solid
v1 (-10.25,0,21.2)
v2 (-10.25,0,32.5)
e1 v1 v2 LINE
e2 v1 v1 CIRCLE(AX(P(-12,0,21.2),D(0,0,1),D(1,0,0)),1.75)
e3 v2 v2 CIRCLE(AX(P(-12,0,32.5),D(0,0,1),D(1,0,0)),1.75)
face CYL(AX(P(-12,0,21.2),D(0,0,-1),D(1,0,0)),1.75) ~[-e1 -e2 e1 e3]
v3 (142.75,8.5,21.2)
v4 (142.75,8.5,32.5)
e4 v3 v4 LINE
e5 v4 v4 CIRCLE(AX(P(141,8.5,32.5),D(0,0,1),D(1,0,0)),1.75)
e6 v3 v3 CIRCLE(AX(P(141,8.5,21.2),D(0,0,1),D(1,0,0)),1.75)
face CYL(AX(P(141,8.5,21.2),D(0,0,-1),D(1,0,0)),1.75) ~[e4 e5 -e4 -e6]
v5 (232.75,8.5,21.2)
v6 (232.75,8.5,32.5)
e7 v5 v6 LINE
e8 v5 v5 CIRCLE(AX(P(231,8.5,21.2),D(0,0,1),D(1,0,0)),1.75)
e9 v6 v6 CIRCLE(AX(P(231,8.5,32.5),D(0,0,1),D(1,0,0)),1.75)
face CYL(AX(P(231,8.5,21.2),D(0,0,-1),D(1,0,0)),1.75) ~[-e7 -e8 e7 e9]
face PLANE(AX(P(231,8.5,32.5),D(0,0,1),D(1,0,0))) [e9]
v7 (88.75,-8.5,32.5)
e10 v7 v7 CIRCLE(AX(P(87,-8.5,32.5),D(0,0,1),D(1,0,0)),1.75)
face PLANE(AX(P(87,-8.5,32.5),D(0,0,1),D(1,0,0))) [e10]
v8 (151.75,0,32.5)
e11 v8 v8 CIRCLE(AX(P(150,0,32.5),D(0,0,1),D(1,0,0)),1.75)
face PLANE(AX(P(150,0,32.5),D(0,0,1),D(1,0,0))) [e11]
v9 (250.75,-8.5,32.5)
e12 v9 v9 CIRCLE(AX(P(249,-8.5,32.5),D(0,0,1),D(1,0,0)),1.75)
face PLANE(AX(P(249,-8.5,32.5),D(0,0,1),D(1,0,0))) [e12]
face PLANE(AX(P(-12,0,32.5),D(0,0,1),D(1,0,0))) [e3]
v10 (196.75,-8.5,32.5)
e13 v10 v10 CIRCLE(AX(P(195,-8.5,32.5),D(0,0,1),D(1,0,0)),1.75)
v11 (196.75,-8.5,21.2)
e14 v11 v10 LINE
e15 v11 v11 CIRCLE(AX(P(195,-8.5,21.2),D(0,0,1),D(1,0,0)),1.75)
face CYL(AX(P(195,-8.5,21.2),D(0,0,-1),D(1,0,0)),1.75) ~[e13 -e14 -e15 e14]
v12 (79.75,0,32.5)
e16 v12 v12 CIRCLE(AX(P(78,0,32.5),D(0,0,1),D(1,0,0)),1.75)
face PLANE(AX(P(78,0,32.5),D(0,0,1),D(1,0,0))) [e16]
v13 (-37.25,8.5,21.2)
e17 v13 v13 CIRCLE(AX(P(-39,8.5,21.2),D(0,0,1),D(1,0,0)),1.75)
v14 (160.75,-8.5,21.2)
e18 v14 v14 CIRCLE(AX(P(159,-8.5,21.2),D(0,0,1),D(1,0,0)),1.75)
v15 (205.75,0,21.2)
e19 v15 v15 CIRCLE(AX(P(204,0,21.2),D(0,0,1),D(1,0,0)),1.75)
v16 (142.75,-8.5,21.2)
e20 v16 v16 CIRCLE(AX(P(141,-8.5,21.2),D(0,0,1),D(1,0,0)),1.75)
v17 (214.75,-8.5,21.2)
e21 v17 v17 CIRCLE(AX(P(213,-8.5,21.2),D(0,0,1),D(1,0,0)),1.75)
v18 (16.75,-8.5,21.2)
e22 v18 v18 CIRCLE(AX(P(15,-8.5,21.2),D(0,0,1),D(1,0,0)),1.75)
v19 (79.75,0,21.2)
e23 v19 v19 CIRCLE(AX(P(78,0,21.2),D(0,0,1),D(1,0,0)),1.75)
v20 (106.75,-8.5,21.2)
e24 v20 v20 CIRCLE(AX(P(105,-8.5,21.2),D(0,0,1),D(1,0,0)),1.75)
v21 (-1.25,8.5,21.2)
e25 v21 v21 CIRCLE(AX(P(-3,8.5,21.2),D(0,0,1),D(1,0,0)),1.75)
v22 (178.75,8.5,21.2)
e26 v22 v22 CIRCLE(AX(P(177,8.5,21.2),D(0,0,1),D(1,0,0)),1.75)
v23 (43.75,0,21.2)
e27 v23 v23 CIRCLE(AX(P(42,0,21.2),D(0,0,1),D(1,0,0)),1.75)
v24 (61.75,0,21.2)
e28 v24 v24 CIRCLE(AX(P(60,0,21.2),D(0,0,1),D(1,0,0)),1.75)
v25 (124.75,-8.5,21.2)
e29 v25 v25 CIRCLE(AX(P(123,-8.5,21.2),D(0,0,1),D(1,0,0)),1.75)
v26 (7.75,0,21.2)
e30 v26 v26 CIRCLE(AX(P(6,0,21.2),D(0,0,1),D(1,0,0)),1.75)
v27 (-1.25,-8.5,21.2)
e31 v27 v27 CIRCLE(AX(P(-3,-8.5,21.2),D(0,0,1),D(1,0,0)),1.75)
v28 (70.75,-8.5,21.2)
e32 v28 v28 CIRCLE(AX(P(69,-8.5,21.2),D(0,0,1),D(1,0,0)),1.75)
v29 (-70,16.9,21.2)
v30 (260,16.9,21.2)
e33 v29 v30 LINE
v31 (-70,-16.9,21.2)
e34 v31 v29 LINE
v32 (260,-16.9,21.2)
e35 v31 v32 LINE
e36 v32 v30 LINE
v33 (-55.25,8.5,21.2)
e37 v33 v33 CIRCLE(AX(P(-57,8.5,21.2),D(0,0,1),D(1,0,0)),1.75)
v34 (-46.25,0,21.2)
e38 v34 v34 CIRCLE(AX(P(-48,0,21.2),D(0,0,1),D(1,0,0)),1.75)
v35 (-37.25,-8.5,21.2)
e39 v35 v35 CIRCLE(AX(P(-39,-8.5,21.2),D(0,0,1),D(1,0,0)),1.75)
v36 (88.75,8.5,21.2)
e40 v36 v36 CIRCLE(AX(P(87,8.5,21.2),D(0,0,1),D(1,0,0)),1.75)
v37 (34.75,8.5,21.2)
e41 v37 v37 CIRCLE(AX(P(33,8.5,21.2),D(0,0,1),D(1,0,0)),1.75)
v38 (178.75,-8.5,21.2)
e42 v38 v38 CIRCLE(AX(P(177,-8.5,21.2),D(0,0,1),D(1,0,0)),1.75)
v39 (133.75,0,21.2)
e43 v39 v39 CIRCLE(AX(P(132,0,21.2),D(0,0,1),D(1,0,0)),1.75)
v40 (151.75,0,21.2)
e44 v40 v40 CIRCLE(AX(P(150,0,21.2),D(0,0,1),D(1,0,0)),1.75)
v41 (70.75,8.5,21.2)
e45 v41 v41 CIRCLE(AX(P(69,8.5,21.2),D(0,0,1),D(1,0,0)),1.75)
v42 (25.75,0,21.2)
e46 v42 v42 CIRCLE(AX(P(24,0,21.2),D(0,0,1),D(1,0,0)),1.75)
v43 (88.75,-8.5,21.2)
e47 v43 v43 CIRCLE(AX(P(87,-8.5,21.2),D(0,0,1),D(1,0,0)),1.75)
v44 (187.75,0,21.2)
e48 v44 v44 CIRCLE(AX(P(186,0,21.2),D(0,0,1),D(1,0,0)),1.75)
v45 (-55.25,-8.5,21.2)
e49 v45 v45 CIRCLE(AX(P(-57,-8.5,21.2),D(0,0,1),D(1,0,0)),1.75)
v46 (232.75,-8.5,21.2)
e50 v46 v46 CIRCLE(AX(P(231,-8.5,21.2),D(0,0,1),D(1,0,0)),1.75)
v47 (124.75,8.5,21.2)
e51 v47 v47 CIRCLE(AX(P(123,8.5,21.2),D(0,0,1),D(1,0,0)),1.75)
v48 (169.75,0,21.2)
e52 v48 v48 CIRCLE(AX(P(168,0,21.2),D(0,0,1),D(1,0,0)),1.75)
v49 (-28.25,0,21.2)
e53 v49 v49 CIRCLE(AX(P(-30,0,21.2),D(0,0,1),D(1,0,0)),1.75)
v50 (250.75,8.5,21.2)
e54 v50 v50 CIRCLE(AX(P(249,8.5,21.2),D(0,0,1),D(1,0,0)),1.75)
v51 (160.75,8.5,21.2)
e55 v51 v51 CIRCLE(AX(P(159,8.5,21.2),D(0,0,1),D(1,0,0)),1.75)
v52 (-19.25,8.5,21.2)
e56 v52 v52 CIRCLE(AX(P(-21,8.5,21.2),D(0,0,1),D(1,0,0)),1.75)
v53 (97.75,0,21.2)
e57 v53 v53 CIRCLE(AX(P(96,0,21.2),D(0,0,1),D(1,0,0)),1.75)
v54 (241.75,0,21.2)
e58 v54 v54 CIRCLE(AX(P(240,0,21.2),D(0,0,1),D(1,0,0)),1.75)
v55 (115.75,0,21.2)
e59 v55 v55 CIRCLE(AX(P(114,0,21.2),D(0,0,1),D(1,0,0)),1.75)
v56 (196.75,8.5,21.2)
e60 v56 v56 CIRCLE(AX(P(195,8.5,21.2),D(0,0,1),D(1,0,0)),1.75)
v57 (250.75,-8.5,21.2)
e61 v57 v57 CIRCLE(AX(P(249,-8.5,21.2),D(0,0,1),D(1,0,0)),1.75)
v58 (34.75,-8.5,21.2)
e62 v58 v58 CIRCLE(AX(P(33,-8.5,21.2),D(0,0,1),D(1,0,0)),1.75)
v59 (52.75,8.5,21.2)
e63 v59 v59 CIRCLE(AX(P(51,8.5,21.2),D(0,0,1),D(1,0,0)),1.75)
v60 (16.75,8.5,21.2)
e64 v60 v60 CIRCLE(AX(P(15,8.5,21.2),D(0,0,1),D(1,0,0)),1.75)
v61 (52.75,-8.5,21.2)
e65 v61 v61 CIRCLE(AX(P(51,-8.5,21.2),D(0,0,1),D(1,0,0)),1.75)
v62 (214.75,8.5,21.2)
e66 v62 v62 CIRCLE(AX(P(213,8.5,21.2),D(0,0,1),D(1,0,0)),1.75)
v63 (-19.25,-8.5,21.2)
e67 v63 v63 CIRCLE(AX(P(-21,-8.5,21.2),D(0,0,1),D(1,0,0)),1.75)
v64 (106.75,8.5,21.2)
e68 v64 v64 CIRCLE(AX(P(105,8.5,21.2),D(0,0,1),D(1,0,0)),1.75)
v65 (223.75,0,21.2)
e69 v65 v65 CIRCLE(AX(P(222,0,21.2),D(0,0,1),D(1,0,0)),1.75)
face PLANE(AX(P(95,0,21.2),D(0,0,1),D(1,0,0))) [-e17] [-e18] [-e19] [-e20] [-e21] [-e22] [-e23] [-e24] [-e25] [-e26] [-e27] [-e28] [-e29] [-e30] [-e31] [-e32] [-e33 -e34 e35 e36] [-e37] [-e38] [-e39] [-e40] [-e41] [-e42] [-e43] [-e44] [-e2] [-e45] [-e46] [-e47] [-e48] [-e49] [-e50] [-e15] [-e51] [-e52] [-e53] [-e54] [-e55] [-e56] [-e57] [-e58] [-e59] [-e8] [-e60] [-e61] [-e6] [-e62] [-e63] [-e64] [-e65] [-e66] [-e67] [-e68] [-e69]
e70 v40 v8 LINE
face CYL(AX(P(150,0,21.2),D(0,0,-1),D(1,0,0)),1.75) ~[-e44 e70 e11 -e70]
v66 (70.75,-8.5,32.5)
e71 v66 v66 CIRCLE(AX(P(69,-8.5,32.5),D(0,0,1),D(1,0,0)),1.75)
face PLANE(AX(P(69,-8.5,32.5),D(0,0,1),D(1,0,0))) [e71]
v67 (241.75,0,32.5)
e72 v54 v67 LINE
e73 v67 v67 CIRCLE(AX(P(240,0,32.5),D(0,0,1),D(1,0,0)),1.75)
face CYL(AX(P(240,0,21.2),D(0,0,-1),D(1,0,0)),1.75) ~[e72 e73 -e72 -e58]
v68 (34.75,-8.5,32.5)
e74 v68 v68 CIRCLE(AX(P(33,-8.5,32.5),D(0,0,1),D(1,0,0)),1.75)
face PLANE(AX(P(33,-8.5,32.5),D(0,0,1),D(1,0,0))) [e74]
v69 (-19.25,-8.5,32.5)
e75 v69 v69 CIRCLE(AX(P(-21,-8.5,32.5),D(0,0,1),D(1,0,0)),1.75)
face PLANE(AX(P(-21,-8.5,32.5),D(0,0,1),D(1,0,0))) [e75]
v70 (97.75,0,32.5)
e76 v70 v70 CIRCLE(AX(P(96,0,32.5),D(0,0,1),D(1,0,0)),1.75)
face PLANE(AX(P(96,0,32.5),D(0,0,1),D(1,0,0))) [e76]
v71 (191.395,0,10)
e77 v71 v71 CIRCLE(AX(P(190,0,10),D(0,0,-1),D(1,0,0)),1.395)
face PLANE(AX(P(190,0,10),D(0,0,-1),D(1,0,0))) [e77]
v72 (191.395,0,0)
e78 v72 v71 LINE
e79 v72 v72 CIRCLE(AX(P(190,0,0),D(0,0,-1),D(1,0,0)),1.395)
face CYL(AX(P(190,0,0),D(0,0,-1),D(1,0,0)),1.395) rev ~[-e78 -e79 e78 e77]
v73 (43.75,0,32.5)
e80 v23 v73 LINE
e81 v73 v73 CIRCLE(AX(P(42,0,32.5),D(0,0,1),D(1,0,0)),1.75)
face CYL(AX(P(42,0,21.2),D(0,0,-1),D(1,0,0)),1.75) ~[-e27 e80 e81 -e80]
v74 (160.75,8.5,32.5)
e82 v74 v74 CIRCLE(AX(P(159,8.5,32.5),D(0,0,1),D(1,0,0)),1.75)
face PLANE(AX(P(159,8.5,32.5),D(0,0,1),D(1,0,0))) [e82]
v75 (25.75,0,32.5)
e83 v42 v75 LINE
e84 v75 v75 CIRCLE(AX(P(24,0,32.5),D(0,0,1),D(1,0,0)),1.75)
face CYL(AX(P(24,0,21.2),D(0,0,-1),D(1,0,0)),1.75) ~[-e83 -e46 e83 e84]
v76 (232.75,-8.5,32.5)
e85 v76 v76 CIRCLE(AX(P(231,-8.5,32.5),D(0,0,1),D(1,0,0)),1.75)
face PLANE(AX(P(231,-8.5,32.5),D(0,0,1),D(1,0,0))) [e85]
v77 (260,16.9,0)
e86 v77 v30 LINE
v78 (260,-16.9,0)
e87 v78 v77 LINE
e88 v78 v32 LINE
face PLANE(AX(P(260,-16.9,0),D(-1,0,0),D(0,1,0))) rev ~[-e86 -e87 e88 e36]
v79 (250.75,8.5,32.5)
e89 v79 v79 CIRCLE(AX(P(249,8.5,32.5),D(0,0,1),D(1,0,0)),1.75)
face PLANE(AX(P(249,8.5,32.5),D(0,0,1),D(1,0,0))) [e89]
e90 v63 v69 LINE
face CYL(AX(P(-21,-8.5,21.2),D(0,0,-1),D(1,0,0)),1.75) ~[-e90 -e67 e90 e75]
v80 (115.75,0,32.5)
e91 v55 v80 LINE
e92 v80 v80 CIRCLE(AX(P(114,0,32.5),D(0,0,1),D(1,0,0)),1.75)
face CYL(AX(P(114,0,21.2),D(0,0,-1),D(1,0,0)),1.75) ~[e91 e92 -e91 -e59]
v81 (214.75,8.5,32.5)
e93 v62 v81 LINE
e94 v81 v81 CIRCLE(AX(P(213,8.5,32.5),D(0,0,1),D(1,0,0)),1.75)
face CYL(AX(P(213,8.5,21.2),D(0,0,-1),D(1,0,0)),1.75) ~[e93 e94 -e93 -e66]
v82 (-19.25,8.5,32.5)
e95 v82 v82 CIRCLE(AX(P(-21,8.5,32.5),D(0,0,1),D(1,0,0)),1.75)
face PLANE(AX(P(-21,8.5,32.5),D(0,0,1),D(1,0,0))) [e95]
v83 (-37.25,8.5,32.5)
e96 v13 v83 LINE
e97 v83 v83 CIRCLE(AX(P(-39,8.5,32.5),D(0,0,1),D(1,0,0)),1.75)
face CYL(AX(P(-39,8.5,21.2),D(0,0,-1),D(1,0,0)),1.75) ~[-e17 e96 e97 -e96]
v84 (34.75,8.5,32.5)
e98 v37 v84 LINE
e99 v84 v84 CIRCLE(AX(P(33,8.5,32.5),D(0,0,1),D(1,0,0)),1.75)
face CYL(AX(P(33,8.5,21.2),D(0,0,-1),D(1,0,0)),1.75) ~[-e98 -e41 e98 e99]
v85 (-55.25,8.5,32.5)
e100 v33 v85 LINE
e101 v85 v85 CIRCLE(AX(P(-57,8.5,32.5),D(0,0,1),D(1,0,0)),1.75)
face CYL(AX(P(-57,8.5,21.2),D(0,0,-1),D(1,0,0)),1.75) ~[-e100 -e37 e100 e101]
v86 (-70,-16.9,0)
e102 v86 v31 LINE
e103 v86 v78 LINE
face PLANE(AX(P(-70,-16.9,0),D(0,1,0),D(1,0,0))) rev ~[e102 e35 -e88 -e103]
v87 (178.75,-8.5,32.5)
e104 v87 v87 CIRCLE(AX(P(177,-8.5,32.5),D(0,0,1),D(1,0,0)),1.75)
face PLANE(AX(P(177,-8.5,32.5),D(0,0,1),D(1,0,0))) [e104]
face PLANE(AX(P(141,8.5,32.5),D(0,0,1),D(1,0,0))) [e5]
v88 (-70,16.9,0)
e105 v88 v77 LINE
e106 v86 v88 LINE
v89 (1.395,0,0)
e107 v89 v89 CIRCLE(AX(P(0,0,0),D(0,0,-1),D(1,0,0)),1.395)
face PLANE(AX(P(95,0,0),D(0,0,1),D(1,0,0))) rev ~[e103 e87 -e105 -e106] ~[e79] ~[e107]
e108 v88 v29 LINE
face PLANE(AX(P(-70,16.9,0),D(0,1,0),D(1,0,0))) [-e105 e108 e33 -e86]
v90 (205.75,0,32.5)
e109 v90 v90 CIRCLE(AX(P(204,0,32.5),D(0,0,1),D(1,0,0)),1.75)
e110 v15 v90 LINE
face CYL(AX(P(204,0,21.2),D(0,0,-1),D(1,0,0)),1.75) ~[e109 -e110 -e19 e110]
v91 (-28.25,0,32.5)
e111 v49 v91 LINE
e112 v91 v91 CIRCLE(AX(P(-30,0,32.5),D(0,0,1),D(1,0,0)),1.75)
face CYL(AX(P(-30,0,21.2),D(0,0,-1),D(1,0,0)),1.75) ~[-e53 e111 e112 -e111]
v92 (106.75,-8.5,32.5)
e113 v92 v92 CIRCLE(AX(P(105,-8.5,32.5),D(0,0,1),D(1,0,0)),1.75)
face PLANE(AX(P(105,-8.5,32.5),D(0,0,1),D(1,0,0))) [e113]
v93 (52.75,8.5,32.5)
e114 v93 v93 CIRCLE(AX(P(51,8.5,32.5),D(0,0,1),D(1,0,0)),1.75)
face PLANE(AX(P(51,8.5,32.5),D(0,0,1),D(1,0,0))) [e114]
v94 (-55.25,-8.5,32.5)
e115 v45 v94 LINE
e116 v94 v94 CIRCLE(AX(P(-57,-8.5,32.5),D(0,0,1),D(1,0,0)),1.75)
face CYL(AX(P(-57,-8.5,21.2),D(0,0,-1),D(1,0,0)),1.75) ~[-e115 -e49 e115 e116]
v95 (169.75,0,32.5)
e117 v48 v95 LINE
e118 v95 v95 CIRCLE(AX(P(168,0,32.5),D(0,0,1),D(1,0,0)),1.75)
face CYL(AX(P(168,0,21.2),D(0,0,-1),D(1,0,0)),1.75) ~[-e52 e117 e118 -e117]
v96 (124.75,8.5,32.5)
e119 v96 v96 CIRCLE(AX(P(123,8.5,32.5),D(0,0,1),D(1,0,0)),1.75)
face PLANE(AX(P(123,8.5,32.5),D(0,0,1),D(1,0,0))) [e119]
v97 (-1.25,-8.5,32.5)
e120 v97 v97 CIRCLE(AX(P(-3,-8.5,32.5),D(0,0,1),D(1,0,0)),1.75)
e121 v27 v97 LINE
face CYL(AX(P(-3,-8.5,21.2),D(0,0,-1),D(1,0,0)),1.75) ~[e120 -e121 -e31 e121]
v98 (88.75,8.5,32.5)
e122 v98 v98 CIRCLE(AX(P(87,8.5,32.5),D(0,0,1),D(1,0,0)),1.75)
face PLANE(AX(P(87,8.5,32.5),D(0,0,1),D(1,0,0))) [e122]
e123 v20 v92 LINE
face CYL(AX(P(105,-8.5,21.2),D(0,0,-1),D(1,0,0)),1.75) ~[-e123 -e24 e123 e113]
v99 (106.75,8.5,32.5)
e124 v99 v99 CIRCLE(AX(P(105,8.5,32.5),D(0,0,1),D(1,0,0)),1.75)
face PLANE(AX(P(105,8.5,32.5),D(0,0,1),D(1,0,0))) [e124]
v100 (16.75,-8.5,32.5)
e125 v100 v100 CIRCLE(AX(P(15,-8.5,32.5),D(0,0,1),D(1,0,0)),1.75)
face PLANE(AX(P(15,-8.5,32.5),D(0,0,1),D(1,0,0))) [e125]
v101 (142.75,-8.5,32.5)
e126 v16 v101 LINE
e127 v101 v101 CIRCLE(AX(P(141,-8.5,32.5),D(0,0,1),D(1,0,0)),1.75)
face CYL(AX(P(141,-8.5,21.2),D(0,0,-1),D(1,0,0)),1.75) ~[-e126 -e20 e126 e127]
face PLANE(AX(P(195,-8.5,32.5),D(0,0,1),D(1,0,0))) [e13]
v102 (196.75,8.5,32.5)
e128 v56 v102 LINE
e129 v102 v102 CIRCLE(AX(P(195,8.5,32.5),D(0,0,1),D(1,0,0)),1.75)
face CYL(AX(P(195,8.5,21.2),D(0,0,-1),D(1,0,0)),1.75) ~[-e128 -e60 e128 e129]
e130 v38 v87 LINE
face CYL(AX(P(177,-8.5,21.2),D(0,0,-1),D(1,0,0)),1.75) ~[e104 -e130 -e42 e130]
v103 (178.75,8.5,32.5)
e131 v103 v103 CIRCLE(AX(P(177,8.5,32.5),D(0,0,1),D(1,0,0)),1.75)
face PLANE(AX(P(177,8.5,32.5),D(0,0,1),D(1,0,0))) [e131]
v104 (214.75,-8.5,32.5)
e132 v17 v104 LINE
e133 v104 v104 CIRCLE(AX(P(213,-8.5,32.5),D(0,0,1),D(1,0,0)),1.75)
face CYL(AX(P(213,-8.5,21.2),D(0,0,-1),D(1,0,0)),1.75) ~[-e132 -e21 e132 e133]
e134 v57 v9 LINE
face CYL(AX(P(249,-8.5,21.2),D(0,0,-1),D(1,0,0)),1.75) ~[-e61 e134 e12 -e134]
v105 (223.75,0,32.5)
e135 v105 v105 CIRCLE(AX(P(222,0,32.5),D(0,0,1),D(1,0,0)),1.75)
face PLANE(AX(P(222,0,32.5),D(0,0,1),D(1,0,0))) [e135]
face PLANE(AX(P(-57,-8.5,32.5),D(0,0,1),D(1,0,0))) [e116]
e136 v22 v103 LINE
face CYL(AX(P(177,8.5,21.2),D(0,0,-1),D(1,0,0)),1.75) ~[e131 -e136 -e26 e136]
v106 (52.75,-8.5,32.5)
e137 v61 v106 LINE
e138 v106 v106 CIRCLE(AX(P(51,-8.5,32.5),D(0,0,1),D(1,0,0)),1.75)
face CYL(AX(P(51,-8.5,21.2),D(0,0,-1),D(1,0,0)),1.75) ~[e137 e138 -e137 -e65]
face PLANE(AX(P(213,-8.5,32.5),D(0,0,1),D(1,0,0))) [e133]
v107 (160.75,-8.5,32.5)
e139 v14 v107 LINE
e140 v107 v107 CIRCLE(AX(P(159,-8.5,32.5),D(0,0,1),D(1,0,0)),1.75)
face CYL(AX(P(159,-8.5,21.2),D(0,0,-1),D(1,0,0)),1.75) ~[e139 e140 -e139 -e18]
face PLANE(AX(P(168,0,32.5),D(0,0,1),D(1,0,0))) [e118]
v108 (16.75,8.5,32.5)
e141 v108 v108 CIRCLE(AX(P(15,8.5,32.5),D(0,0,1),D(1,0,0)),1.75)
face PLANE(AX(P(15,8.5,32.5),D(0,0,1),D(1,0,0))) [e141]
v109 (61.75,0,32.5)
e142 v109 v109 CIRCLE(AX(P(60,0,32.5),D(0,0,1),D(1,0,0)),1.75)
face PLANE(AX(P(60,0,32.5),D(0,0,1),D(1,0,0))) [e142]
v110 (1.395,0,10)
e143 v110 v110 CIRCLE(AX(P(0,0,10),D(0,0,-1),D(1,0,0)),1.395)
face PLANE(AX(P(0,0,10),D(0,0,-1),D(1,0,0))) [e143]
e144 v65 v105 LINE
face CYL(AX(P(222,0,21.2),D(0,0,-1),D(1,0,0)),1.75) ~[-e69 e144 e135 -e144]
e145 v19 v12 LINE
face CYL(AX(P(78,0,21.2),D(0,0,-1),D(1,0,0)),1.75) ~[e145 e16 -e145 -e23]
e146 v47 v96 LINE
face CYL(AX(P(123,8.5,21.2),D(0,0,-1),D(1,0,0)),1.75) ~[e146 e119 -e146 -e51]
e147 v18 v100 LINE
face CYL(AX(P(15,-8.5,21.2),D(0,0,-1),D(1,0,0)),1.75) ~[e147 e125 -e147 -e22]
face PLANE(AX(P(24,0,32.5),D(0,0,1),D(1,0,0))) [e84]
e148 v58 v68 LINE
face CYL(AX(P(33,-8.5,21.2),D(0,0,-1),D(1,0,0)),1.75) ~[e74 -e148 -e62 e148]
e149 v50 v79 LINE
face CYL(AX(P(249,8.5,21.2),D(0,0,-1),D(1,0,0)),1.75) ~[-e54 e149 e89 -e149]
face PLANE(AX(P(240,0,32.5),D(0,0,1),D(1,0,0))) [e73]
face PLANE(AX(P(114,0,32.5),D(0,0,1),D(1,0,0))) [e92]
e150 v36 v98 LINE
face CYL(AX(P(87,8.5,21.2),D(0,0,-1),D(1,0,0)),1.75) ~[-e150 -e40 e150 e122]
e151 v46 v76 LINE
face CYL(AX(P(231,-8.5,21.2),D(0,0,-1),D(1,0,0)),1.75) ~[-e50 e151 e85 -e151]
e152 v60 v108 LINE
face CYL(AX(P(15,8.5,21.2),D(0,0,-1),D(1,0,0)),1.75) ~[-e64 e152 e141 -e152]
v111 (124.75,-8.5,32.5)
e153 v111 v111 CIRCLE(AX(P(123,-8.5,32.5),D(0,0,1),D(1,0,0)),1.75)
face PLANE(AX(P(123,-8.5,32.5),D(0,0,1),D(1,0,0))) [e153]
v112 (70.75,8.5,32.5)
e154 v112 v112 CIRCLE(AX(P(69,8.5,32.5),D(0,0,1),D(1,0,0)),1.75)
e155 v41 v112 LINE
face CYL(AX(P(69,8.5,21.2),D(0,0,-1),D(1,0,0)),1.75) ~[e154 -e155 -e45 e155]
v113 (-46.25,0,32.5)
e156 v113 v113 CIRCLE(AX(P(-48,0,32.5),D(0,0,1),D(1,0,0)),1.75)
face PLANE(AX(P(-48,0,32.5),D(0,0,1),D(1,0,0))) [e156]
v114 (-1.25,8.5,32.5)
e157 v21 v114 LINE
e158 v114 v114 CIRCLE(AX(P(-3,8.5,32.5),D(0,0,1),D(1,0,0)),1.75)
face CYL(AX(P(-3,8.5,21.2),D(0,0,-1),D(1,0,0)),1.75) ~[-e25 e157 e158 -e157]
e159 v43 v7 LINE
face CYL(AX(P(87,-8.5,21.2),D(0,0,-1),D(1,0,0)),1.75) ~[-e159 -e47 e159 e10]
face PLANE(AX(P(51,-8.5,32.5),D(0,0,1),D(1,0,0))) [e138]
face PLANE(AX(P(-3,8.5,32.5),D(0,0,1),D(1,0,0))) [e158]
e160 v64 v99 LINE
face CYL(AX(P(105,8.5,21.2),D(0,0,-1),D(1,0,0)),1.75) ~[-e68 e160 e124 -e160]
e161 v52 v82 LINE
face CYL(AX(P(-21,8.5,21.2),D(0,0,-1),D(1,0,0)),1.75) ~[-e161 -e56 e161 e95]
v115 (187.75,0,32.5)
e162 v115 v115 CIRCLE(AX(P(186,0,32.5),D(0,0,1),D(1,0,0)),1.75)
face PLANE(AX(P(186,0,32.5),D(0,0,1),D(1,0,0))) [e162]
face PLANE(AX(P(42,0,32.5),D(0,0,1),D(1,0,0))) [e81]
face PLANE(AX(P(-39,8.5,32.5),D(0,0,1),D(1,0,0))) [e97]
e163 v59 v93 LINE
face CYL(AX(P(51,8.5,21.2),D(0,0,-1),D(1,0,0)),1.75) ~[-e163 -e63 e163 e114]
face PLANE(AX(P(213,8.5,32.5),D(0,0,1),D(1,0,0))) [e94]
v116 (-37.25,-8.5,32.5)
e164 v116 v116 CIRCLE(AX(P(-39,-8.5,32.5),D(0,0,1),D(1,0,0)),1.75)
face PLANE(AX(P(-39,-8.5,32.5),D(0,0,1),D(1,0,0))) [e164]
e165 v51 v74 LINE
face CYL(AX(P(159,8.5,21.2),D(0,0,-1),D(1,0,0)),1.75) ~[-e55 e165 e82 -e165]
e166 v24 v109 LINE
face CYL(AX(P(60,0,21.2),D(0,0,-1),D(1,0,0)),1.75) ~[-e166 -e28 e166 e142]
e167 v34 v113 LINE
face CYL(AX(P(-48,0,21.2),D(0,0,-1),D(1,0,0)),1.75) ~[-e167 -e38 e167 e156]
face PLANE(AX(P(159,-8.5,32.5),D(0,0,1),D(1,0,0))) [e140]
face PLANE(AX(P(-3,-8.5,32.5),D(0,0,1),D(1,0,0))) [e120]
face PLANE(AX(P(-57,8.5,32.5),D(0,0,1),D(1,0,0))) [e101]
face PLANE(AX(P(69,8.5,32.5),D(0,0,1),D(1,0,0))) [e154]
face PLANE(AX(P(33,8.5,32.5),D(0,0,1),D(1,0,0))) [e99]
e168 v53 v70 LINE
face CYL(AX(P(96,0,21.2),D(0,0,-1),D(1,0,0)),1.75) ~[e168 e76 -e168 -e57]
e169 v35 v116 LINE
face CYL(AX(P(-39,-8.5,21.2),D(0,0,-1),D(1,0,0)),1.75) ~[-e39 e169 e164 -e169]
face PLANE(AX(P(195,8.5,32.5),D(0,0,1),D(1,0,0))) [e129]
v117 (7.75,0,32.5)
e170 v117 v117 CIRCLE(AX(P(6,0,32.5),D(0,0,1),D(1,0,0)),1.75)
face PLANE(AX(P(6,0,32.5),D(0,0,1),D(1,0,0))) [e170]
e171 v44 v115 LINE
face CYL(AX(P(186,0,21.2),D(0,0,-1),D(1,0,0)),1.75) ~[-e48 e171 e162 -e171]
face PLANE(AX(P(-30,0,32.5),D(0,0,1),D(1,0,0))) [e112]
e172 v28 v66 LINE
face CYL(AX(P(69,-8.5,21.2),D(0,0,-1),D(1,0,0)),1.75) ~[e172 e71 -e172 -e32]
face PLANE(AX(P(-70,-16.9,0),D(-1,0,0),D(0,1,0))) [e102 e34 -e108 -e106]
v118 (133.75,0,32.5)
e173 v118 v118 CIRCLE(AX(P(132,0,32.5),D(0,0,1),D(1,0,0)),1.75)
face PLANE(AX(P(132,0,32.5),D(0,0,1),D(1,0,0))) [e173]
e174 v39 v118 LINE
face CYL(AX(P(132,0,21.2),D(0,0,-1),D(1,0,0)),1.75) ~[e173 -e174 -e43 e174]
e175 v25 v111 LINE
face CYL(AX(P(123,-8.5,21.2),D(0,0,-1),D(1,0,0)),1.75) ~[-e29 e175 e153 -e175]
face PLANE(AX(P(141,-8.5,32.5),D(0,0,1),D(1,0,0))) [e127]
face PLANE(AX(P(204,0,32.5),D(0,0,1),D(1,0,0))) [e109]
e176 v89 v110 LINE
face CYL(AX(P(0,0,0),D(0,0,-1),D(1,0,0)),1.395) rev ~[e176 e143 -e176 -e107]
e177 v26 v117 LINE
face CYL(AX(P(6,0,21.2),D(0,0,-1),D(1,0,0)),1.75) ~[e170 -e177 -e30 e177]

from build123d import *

# Parameters (mm, degrees)
F0_W     = 330
F0_H     = 33.8
F1_DEPTH = 21.2
F2_R     = 1.395
F3_DEPTH = 10
F4_R     = 1.75
F5_DEPTH = 11.3


with BuildPart() as f1:
    # F0 (on Top) → F1 (new body)
    with BuildSketch(Plane.XY):
        with Locations((95, 0)):
            Rectangle(F0_W, F0_H)
    extrude(amount=F1_DEPTH)

    # F2 (on face) → F3 (cut)
    with BuildSketch(Plane(origin=(0, 0, 0), x_dir=(1, 0, 0), z_dir=(0, 0, -1))):
        Circle(F2_R)
        with Locations((190, 0)):
            Circle(F2_R)
    extrude(amount=-F3_DEPTH, mode=Mode.SUBTRACT)

    # F4 (on face) → F5 (join)
    with BuildSketch(Plane.XY.offset(21.2)):
        with Locations((-57, 8.5)):
            Circle(F4_R)
        with Locations((-57, -8.5)):
            Circle(F4_R)
        with Locations((-48, 0)):
            Circle(F4_R)
        with Locations((-39, 8.5)):
            Circle(F4_R)
        with Locations((-39, -8.5)):
            Circle(F4_R)
        with Locations((-30, 0)):
            Circle(F4_R)
        with Locations((-21, 8.5)):
            Circle(F4_R)
        with Locations((-21, -8.5)):
            Circle(F4_R)
        with Locations((-12, 0)):
            Circle(F4_R)
        with Locations((-3, 8.5)):
            Circle(F4_R)
        with Locations((-3, -8.5)):
            Circle(F4_R)
        with Locations((6, 0)):
            Circle(F4_R)
        with Locations((15, 8.5)):
            Circle(F4_R)
        with Locations((15, -8.5)):
            Circle(F4_R)
        with Locations((24, 0)):
            Circle(F4_R)
        with Locations((33, 8.5)):
            Circle(F4_R)
        with Locations((33, -8.5)):
            Circle(F4_R)
        with Locations((42, 0)):
            Circle(F4_R)
        with Locations((51, 8.5)):
            Circle(F4_R)
        with Locations((51, -8.5)):
            Circle(F4_R)
        with Locations((60, 0)):
            Circle(F4_R)
        with Locations((69, 8.5)):
            Circle(F4_R)
        with Locations((69, -8.5)):
            Circle(F4_R)
        with Locations((78, 0)):
            Circle(F4_R)
        with Locations((87, 8.5)):
            Circle(F4_R)
        with Locations((87, -8.5)):
            Circle(F4_R)
        with Locations((96, 0)):
            Circle(F4_R)
        with Locations((105, 8.5)):
            Circle(F4_R)
        with Locations((105, -8.5)):
            Circle(F4_R)
        with Locations((114, 0)):
            Circle(F4_R)
        with Locations((123, 8.5)):
            Circle(F4_R)
        with Locations((123, -8.5)):
            Circle(F4_R)
        with Locations((132, 0)):
            Circle(F4_R)
        with Locations((141, 8.5)):
            Circle(F4_R)
        with Locations((141, -8.5)):
            Circle(F4_R)
        with Locations((150, 0)):
            Circle(F4_R)
        with Locations((159, 8.5)):
            Circle(F4_R)
        with Locations((159, -8.5)):
            Circle(F4_R)
        with Locations((168, 0)):
            Circle(F4_R)
        with Locations((177, 8.5)):
            Circle(F4_R)
        with Locations((177, -8.5)):
            Circle(F4_R)
        with Locations((186, 0)):
            Circle(F4_R)
        with Locations((195, 8.5)):
            Circle(F4_R)
        with Locations((195, -8.5)):
            Circle(F4_R)
        with Locations((204, 0)):
            Circle(F4_R)
        with Locations((213, 8.5)):
            Circle(F4_R)
        with Locations((213, -8.5)):
            Circle(F4_R)
        with Locations((222, 0)):
            Circle(F4_R)
        with Locations((231, 8.5)):
            Circle(F4_R)
        with Locations((231, -8.5)):
            Circle(F4_R)
        with Locations((240, 0)):
            Circle(F4_R)
        with Locations((249, 8.5)):
            Circle(F4_R)
        with Locations((249, -8.5)):
            Circle(F4_R)
    extrude(amount=F5_DEPTH)


solid = f1.part
